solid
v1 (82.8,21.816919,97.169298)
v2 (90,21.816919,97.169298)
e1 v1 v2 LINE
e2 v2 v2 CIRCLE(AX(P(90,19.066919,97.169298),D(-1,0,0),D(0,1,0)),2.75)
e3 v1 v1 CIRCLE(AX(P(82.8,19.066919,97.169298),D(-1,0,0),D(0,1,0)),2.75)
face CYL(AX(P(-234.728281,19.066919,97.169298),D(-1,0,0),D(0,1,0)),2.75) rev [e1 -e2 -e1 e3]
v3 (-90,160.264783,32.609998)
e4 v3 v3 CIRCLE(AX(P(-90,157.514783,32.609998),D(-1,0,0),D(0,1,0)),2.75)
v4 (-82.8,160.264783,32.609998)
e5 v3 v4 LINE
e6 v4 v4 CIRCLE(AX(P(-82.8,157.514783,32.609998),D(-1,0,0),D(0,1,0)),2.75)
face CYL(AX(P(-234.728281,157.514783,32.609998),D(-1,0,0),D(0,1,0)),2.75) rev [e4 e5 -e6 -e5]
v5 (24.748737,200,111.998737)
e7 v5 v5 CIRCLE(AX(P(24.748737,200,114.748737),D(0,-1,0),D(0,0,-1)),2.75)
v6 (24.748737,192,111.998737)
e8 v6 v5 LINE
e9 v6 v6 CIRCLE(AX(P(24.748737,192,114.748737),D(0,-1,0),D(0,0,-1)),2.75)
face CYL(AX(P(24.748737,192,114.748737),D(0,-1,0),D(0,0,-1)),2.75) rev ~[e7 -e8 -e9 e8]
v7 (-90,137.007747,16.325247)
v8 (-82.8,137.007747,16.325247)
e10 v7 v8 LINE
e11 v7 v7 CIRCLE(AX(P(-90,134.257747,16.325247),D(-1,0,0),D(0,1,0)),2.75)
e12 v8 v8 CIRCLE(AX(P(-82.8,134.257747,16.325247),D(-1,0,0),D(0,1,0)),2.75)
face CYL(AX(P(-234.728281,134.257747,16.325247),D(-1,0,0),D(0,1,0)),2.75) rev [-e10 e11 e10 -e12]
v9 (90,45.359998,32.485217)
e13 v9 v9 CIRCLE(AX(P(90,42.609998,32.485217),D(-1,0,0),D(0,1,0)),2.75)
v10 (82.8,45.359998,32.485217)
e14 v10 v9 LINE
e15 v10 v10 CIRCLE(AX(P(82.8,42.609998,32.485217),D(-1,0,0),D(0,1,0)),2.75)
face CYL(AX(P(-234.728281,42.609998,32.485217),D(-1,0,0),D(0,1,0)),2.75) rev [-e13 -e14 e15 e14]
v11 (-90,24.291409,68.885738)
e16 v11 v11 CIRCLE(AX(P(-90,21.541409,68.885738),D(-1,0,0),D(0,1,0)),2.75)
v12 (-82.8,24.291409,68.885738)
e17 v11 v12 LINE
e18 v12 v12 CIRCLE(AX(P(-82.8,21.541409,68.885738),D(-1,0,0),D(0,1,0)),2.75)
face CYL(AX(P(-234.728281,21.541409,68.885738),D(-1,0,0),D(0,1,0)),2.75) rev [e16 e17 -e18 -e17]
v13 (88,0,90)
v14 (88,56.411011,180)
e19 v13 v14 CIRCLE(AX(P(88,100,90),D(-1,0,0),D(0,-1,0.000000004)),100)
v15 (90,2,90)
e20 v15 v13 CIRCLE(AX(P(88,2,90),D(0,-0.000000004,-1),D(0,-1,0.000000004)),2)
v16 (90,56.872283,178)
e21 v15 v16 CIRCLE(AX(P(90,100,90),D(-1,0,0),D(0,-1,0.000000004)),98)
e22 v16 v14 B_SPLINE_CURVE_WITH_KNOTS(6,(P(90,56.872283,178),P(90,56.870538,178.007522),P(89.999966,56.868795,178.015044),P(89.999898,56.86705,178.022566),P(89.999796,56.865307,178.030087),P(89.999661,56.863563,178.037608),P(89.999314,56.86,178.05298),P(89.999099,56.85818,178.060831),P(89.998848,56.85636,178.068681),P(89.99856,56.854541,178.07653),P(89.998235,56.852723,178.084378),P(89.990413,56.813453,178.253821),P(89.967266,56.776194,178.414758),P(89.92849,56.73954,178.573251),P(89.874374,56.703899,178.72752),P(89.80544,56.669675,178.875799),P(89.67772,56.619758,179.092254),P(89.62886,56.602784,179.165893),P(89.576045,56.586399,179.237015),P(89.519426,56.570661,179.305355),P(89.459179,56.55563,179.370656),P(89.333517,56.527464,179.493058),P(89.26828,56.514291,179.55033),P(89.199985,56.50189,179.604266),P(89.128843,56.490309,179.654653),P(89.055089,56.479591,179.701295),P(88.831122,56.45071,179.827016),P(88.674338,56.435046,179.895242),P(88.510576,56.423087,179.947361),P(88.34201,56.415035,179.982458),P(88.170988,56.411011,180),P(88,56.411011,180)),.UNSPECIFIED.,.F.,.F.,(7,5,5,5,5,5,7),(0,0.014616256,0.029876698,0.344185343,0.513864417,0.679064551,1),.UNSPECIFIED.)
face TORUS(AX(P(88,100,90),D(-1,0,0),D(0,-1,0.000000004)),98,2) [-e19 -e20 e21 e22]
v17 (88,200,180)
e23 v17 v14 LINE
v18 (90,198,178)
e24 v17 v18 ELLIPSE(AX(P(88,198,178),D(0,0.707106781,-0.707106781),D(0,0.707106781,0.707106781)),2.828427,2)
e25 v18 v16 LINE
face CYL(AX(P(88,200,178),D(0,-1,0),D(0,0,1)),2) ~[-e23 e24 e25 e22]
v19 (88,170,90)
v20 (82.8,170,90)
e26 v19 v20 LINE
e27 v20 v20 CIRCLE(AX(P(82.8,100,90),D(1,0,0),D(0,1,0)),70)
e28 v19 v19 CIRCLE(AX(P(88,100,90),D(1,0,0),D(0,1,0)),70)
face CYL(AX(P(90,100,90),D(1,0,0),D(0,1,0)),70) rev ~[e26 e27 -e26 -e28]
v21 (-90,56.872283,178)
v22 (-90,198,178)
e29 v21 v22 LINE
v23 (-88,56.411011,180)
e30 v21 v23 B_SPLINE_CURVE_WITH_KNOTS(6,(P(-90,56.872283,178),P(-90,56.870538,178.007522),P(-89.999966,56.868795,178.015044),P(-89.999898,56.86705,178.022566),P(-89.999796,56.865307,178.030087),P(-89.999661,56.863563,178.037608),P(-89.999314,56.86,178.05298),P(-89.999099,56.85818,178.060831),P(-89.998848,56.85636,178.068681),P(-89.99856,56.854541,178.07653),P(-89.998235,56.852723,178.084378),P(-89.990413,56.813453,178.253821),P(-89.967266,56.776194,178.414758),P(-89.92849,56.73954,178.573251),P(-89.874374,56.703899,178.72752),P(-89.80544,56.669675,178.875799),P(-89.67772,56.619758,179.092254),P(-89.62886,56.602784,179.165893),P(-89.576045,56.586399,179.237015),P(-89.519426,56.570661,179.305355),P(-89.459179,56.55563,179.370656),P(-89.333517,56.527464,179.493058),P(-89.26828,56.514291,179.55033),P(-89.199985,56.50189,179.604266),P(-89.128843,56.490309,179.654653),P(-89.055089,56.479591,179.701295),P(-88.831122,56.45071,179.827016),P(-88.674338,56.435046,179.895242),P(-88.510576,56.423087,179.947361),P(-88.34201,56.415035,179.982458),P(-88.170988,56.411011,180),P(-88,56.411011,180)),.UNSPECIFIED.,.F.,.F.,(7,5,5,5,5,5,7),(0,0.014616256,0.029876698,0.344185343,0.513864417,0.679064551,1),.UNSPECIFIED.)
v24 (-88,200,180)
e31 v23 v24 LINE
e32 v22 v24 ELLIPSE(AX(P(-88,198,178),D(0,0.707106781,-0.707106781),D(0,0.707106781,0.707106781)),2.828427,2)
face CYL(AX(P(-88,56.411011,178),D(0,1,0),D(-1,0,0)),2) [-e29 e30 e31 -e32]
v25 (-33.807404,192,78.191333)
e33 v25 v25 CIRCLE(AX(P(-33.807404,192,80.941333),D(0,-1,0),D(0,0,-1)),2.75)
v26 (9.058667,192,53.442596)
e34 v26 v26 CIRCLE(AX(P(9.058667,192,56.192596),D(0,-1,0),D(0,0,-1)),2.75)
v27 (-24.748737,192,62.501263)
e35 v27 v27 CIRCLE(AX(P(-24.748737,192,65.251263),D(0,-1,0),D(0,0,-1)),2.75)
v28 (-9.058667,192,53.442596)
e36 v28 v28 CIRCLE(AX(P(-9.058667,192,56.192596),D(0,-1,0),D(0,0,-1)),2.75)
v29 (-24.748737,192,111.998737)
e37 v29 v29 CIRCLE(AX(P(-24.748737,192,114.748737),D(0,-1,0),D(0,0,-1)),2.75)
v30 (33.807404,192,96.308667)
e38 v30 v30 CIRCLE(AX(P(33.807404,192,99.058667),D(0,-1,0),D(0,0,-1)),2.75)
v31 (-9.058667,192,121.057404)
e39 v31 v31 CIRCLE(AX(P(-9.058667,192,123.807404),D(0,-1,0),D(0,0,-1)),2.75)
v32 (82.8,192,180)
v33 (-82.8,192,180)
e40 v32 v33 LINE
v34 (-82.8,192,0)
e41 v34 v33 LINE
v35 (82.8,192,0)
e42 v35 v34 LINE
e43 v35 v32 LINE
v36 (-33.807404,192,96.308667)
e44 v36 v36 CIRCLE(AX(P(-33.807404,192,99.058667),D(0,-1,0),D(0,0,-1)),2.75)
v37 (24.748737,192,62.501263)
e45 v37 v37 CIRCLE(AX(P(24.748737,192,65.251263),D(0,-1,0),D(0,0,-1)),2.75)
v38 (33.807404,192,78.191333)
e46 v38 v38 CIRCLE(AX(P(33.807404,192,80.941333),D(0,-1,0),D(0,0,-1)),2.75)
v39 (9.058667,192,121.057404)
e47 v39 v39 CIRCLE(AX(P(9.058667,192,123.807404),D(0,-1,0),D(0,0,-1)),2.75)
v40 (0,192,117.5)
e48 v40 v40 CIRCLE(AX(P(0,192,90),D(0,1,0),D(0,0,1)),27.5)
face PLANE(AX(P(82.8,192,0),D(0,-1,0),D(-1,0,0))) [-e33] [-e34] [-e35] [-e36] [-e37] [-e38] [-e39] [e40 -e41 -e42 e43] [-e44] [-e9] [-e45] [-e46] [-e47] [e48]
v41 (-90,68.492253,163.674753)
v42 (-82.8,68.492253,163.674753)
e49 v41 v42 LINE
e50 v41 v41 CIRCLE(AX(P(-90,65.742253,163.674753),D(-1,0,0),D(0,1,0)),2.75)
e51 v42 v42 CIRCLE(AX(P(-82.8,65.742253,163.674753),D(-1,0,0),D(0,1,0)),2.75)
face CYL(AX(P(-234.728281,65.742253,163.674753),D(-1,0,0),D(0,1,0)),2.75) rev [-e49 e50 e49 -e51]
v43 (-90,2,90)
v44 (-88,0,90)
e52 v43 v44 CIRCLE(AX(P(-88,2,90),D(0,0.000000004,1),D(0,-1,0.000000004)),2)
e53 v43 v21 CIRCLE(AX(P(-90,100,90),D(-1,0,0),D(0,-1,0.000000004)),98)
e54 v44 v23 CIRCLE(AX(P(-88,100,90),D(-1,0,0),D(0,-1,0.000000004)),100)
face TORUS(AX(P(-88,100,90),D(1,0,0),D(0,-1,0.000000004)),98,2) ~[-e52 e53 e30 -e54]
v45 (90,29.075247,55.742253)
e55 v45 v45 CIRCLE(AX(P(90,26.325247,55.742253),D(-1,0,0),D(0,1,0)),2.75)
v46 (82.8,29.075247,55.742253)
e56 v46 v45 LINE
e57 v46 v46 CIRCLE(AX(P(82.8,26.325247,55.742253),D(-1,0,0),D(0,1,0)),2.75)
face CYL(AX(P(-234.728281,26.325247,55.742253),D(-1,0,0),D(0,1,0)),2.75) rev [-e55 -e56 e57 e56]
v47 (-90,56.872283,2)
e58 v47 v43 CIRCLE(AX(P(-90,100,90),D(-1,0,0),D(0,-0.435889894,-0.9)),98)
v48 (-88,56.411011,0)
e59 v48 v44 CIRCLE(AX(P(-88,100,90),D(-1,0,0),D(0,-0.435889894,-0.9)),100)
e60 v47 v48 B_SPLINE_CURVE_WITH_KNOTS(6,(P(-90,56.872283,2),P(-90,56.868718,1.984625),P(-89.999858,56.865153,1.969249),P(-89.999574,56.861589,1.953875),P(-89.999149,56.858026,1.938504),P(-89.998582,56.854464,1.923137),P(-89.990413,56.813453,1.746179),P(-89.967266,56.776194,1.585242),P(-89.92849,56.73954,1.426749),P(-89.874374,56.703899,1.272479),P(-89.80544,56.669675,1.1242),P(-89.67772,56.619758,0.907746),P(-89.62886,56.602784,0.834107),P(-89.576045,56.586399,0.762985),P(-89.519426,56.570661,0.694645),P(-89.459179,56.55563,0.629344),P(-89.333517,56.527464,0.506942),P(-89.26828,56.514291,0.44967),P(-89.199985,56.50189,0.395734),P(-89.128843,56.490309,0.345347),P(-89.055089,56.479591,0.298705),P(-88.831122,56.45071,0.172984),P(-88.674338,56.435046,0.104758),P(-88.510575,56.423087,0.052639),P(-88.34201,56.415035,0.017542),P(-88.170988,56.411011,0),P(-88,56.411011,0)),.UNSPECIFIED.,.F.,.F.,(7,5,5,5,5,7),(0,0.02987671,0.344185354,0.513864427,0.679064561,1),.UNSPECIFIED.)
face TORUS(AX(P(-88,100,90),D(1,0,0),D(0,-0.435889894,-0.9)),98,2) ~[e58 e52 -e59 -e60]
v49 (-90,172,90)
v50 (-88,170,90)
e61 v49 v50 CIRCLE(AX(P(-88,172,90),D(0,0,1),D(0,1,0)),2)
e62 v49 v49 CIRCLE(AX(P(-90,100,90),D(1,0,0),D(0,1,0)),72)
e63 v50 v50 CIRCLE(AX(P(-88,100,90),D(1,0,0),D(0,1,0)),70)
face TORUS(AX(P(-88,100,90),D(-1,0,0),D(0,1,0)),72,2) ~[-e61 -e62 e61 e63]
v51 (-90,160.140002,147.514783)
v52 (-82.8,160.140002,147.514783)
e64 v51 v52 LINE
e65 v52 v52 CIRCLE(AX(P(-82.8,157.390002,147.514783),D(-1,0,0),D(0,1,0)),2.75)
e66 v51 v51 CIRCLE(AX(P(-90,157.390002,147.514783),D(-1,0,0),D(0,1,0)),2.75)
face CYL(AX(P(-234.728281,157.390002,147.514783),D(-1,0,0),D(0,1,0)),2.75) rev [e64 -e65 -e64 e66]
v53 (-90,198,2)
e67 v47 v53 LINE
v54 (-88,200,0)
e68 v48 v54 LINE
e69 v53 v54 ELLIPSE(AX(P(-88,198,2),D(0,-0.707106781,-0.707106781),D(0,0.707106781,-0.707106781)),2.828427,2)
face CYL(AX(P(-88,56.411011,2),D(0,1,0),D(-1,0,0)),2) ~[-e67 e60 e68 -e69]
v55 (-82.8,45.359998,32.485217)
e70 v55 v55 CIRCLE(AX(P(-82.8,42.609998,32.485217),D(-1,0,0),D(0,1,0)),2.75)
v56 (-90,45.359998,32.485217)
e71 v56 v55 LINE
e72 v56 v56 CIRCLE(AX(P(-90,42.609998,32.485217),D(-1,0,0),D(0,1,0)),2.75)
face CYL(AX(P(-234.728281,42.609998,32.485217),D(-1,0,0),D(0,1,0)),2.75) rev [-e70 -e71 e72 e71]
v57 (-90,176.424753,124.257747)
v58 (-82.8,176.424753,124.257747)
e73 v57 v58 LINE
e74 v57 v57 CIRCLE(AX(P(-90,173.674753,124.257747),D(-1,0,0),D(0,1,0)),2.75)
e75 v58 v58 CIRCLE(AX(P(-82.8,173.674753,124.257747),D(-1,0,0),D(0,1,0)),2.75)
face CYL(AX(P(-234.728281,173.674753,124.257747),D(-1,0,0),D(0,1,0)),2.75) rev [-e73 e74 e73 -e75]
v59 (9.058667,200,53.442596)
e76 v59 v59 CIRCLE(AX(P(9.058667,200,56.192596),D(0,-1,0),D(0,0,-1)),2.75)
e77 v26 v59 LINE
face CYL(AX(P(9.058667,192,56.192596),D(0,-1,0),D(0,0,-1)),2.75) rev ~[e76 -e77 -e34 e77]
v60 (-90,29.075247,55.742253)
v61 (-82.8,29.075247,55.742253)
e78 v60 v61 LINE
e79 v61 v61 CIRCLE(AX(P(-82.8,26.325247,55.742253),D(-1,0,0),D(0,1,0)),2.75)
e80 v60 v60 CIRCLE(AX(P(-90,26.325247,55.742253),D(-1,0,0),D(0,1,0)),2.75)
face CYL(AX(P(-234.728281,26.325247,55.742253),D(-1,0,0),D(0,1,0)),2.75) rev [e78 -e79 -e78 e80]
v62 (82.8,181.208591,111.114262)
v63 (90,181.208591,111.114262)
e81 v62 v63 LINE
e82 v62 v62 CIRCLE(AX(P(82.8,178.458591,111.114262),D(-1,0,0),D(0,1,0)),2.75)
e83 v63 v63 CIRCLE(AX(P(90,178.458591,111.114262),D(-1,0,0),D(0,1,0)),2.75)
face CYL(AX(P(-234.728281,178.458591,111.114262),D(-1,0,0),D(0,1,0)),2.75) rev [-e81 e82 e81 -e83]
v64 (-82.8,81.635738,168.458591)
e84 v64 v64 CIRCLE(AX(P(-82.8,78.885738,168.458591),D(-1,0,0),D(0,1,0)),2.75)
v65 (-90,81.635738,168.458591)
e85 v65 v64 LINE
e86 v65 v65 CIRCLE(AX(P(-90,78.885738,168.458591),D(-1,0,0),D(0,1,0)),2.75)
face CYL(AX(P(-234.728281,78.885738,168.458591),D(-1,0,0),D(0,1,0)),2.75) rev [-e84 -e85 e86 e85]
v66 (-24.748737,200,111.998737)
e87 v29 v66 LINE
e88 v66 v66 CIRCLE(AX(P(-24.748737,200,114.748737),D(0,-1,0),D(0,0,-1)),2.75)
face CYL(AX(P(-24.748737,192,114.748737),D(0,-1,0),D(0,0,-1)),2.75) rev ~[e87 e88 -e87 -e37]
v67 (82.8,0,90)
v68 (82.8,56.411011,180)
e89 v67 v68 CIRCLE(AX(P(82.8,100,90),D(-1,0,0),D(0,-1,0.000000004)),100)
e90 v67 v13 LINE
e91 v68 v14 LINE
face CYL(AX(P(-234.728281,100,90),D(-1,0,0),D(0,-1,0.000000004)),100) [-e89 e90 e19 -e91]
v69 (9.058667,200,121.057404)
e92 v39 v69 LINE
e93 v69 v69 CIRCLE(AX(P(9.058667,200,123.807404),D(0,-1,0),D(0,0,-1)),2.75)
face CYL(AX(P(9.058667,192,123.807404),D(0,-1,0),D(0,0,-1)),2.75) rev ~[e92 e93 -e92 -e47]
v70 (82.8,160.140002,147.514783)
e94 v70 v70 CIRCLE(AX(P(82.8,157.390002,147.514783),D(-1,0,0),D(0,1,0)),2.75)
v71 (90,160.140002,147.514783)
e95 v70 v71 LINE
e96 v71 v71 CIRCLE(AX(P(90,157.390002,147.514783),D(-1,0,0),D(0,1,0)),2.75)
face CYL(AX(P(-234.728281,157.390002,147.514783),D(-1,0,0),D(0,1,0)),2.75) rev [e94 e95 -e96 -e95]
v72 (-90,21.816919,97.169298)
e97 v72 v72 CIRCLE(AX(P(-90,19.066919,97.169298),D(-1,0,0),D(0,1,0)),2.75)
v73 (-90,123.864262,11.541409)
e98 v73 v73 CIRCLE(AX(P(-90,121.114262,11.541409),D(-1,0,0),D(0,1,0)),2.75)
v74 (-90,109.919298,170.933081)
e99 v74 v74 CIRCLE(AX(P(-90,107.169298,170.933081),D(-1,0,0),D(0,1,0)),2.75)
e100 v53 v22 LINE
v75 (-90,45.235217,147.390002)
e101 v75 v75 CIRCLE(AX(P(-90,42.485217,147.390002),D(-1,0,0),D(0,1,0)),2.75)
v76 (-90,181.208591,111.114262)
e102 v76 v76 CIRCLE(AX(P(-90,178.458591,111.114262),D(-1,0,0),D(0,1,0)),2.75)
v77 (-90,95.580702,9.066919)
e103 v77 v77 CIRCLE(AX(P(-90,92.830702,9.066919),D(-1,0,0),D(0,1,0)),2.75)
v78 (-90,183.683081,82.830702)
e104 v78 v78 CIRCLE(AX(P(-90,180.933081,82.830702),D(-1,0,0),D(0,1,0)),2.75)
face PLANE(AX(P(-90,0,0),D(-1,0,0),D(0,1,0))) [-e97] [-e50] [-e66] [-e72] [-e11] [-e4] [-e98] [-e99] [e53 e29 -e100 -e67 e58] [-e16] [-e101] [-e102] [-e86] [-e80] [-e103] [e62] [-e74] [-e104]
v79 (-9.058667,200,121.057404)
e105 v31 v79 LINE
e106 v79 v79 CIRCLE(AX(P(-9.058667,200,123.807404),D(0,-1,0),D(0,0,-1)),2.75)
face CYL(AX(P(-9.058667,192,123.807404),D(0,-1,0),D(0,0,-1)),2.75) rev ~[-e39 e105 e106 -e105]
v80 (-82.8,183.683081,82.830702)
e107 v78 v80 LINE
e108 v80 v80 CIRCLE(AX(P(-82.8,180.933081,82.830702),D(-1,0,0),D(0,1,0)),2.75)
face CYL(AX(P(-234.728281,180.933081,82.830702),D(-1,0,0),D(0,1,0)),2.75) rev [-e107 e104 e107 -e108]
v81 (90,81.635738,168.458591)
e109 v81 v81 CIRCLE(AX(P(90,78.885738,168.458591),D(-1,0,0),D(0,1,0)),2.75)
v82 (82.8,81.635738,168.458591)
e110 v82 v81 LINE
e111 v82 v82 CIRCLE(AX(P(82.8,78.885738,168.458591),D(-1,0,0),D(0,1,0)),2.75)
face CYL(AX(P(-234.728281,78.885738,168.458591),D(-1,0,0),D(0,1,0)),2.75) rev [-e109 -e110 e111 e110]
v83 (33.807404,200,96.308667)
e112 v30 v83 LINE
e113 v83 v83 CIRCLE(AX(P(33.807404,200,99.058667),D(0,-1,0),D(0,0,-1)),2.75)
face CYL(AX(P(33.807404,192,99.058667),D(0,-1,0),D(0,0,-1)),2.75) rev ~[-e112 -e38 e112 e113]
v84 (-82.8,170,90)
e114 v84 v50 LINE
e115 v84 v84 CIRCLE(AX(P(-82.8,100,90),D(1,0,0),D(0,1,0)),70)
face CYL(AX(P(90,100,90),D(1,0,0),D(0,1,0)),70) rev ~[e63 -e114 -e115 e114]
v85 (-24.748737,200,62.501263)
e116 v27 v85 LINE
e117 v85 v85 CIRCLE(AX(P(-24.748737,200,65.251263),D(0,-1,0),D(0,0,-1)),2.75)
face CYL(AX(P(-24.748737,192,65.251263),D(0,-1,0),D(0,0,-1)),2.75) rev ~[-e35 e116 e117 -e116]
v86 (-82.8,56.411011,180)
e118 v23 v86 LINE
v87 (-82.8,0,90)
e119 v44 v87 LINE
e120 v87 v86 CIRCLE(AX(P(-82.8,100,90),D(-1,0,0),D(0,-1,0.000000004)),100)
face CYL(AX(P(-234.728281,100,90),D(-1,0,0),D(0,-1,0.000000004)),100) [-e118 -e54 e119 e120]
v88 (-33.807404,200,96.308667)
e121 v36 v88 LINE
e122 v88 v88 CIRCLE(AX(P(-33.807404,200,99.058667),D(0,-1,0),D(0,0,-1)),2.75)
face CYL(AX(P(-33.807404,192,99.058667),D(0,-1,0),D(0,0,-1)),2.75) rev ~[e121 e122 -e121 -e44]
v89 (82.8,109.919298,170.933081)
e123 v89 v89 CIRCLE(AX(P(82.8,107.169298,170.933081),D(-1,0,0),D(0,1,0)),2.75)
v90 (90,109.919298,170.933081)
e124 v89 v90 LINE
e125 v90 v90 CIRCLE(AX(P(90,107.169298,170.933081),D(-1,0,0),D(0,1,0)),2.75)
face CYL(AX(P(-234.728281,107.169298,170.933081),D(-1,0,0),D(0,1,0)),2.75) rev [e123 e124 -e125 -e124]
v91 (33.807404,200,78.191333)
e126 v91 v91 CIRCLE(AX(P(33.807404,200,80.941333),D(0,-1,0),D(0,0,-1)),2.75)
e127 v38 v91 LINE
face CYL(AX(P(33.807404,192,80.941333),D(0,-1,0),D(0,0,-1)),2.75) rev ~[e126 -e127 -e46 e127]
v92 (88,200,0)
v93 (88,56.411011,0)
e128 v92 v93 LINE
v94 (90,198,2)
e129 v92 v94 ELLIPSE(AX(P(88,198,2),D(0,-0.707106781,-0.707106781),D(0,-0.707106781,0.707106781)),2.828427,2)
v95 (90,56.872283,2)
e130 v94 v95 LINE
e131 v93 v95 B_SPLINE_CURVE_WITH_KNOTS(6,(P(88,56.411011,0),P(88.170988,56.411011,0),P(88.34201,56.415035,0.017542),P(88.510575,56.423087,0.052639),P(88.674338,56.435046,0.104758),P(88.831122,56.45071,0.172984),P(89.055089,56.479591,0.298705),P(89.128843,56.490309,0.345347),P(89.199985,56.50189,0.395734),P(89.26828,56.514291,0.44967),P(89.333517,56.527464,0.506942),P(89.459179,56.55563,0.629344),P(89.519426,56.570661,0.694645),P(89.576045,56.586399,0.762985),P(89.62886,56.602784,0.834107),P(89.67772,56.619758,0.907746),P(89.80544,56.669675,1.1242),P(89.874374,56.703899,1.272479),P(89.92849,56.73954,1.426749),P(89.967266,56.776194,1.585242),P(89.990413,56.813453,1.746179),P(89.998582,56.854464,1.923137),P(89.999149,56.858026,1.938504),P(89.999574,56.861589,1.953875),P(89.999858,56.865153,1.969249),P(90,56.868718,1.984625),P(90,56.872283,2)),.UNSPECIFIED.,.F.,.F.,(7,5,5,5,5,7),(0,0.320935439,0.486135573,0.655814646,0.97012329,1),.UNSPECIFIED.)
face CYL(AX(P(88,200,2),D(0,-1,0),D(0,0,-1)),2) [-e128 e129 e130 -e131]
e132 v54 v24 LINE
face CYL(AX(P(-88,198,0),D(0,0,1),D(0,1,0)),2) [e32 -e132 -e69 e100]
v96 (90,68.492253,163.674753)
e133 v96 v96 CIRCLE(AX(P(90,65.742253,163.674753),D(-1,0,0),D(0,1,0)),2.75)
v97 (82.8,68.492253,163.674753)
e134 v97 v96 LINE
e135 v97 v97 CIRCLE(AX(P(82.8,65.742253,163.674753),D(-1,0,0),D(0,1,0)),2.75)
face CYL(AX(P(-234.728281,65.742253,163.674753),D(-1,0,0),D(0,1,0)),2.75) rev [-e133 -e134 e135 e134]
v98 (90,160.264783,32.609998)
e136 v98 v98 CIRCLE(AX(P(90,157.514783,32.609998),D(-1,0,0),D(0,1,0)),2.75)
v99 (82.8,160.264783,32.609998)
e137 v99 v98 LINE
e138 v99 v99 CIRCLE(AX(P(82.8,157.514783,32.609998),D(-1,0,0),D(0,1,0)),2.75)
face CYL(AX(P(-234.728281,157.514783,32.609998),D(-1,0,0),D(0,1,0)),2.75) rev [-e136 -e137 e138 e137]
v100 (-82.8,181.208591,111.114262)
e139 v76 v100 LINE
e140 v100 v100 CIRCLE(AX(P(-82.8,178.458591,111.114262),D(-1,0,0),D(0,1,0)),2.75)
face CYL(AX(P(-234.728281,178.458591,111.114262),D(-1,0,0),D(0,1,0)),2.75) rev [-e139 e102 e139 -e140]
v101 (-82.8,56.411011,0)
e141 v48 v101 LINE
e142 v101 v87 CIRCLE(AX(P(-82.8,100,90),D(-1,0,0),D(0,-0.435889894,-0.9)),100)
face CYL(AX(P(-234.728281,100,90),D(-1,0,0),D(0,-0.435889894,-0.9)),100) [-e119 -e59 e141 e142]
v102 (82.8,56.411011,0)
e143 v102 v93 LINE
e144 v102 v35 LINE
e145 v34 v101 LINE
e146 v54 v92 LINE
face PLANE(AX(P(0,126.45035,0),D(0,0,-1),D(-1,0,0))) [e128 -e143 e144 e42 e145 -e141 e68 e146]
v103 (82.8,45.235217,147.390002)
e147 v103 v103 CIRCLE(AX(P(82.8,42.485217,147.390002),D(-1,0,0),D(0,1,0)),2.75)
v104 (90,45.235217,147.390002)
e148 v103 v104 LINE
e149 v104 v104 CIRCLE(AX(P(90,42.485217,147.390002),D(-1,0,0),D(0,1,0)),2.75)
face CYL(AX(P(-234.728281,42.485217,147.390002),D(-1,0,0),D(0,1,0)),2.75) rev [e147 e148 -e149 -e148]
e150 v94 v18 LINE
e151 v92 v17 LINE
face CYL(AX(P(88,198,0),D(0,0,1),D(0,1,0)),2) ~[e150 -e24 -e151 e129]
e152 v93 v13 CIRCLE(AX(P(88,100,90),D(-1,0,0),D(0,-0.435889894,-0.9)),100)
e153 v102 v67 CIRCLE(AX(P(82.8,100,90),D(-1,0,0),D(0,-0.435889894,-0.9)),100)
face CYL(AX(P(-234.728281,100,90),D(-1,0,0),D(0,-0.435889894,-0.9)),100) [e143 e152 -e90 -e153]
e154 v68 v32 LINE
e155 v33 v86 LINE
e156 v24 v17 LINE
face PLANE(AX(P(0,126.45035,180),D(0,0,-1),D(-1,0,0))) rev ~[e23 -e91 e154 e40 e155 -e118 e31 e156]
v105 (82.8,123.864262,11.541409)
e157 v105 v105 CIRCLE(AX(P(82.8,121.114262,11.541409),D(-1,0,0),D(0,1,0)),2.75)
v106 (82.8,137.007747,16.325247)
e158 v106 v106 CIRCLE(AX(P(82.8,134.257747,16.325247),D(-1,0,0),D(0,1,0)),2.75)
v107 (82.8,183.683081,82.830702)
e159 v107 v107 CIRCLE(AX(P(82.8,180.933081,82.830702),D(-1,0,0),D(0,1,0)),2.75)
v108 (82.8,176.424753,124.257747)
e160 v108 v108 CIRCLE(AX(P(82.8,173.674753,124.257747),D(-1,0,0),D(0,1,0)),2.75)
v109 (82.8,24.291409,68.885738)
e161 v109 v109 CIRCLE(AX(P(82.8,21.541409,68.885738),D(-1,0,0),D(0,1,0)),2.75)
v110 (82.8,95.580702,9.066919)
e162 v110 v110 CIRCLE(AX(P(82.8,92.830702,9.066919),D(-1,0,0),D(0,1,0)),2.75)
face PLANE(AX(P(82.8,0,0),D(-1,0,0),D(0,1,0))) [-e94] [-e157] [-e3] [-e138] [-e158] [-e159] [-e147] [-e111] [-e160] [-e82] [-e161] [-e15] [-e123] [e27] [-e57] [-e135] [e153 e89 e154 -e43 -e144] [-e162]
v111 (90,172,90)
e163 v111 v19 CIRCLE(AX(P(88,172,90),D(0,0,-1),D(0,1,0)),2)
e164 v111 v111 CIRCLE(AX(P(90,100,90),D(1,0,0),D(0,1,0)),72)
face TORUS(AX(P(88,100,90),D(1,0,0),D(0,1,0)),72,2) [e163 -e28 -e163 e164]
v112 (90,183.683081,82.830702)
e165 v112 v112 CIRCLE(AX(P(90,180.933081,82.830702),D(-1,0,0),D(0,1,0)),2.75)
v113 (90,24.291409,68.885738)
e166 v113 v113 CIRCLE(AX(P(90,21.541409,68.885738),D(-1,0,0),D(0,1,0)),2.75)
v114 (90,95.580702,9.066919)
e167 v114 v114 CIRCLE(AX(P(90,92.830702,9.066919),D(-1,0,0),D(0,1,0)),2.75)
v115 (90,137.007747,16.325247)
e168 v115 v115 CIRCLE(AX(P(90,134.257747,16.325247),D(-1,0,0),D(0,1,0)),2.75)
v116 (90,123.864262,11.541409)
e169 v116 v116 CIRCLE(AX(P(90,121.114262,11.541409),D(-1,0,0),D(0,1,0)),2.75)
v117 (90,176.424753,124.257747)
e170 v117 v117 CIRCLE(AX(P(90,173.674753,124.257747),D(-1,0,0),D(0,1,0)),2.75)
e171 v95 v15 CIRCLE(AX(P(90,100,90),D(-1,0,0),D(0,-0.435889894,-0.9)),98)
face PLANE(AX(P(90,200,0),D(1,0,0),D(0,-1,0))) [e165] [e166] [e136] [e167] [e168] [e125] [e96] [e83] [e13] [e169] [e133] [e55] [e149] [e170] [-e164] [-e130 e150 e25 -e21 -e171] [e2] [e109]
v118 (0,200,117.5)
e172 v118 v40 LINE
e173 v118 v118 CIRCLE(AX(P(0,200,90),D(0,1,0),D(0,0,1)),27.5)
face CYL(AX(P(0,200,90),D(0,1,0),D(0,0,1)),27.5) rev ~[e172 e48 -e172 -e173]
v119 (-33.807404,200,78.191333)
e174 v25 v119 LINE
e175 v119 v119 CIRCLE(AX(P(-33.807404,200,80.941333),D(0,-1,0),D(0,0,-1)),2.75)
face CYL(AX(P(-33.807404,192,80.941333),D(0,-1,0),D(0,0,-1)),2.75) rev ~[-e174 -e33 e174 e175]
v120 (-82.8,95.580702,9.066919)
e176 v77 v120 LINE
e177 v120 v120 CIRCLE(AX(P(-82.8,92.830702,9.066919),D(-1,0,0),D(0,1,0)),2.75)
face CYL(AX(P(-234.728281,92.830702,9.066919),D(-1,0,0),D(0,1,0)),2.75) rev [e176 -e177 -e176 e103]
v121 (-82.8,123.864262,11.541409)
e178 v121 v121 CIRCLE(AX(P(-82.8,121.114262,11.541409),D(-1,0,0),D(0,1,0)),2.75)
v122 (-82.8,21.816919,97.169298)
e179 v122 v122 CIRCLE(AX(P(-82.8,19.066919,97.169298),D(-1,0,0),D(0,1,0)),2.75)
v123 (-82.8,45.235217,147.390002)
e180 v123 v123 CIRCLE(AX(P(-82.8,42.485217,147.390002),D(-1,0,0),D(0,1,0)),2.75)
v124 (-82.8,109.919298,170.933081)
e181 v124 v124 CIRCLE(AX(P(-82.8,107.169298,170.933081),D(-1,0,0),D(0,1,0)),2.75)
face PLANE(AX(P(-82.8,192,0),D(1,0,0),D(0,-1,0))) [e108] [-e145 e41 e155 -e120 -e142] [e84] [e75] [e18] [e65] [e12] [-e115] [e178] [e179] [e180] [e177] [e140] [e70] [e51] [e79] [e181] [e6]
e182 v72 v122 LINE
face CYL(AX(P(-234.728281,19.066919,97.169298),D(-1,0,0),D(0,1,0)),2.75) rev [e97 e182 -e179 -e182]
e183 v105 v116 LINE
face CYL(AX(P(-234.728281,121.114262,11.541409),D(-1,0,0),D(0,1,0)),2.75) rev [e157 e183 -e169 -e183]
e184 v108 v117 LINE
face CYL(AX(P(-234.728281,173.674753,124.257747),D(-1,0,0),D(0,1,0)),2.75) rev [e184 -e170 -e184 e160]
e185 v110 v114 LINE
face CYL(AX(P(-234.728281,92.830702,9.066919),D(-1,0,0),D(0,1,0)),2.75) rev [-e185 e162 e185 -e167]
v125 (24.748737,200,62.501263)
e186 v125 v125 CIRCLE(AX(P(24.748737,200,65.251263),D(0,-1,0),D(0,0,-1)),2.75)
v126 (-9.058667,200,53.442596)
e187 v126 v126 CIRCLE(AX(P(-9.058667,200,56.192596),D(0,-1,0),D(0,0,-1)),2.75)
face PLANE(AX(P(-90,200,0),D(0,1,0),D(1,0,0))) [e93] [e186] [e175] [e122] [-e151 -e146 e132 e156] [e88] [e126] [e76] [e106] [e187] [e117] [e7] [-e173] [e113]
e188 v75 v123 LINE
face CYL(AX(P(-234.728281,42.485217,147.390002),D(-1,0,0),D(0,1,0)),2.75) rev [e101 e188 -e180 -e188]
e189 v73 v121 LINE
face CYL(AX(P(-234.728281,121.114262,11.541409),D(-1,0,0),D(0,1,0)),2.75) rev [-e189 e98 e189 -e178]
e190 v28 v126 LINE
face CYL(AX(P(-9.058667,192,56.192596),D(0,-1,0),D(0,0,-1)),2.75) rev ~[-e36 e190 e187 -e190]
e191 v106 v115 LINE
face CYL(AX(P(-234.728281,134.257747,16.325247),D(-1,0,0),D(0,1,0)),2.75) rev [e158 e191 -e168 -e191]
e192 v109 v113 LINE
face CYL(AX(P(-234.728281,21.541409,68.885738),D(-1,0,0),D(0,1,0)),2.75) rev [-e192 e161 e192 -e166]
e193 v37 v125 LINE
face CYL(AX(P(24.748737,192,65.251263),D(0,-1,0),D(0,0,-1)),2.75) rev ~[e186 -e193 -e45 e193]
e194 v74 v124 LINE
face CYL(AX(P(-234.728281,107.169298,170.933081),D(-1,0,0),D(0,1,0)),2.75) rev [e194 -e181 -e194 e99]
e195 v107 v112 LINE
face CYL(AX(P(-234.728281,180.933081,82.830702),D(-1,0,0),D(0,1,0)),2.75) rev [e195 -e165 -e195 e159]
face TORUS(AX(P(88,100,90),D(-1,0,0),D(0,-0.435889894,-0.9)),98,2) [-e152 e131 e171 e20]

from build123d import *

# Parameters (mm, degrees)
EXTRUDE_1_DEPTH          = 180
SKETCH_2_R               = 27.5
CUT_EXTRUDE_1_DEPTH      = 180
SKETCH_3_R               = 70
CUT_EXTRUDE_2_DEPTH      = 217
CUT_EXTRUDE_5_DEPTH      = 324.728281125
CUT_EXTRUDE_5_DEPTH_BACK = 324.728281125
FILLET_2_R               = 2
CUT_EXTRUDE_6_DEPTH      = 324.728281298
CUT_EXTRUDE_6_DEPTH_BACK = 324.728281298
SKETCH_10_R              = 2.75
SKETCH_11_R              = 2.75
CUT_EXTRUDE_7_DEPTH      = 29


with BuildPart() as part:
    # 草图1 → 凸台-拉伸1 (new body)
    with BuildSketch(Plane.XY):
        Polygon((-90, 200), (90, 200), (90, 0), (82.8, 0), (82.8, 192), (-82.8, 192), (-82.8, 0), (-90, 0), align=None)
    extrude(amount=EXTRUDE_1_DEPTH)

    # 草图2 → 切除-拉伸1 (cut)
    with BuildSketch(Plane(origin=(0, 200, 0), x_dir=(1, 0, 0), z_dir=(0, 1, 0))):
        with Locations(Location((0, -90, 0), (0, 0, 270))):
            Circle(SKETCH_2_R)
    extrude(amount=-CUT_EXTRUDE_1_DEPTH, mode=Mode.SUBTRACT)

    # 草图3 → 切除-拉伸2 (cut)
    with BuildSketch(Plane(origin=(90, 0, 0), x_dir=(0, 0, -1), z_dir=(1, 0, 0))):
        with Locations(Location((-90, 100, 0), (0, 0, 90))):
            Circle(SKETCH_3_R)
    extrude(amount=-CUT_EXTRUDE_2_DEPTH, mode=Mode.SUBTRACT)

    # 草图9 → 切除-拉伸5 (cut, two sides: drawn at the far end of the back side and taken through both)
    with BuildSketch(Plane(origin=(90, 0, 0), x_dir=(0, 0, -1), z_dir=(1, 0, 0)).offset(-CUT_EXTRUDE_5_DEPTH_BACK)):
        with BuildLine():
            Line((0, 0), (0, 56.411010565))
            ThreePointArc((0, 56.411010565), (-36.891144692, 15.268367844), (-90.000000357, 0))
            Line((-90.000000357, 0), (0, 0))
        make_face()
        with BuildLine():
            Line((-180, 0), (-90.000000357, 0))
            ThreePointArc((-90.000000357, 0), (-143.108855611, 15.268368034), (-180, 56.411010565))
            Line((-180, 56.411010565), (-180, 0))
        make_face()
    extrude(amount=CUT_EXTRUDE_5_DEPTH + CUT_EXTRUDE_5_DEPTH_BACK, mode=Mode.SUBTRACT)

    # 圆角2
    fillet_2_edges = [part.edges().sort_by_distance(p)[0] for p in [
        (-90, 128.205505282, 0),
        (-90, 128.205505282, 180),
        (-90, 200, 90),
        (90, 200, 90),
        (-90, 30, 90),
        (90, 30, 90),
        (90, 128.205505282, 0),
        (90, 0, 90),
        (-90, 0, 90),
        (90, 128.205505282, 180),
    ]]
    fillet(fillet_2_edges, radius=FILLET_2_R)

    # 草图10 → 切除-拉伸6 (cut, two sides: drawn at the far end of the back side and taken through both)
    with BuildSketch(Plane(origin=(90, 0, 0), x_dir=(0, 0, -1), z_dir=(1, 0, 0)).offset(-CUT_EXTRUDE_6_DEPTH_BACK)):
        with Locations(Location((-32.609998318, 157.514782508, 0), (0, 0, 90))):
            Circle(SKETCH_10_R)
        with Locations(Location((-16.325246691, 134.257746931, 0), (0, 0, 90))):
            Circle(SKETCH_10_R)
        with Locations(Location((-11.541409366, 121.114261903, 0), (0, 0, 90))):
            Circle(SKETCH_10_R)
        with Locations(Location((-9.066918551, 92.830702464, 0), (0, 0, 90))):
            Circle(SKETCH_10_R)
        with Locations(Location((-32.485217492, 42.609998318, 0), (0, 0, 90))):
            Circle(SKETCH_10_R)
        with Locations(Location((-55.742253069, 26.325246691, 0), (0, 0, 90))):
            Circle(SKETCH_10_R)
        with Locations(Location((-68.885738097, 21.541409366, 0), (0, 0, 90))):
            Circle(SKETCH_10_R)
        with Locations(Location((-97.169297536, 19.066918551, 0), (0, 0, 90))):
            Circle(SKETCH_10_R)
        with Locations(Location((-147.390001682, 42.485217492, 0), (0, 0, 90))):
            Circle(SKETCH_10_R)
        with Locations(Location((-163.674753309, 65.742253069, 0), (0, 0, 90))):
            Circle(SKETCH_10_R)
        with Locations(Location((-168.458590634, 78.885738097, 0), (0, 0, 90))):
            Circle(SKETCH_10_R)
        with Locations(Location((-170.933081449, 107.169297536, 0), (0, 0, 90))):
            Circle(SKETCH_10_R)
        with Locations(Location((-147.514782508, 157.390001682, 0), (0, 0, 90))):
            Circle(SKETCH_10_R)
        with Locations(Location((-124.257746931, 173.674753309, 0), (0, 0, 90))):
            Circle(SKETCH_10_R)
        with Locations(Location((-111.114261903, 178.458590634, 0), (0, 0, 90))):
            Circle(SKETCH_10_R)
        with Locations(Location((-82.830702464, 180.933081449, 0), (0, 0, 90))):
            Circle(SKETCH_10_R)
    extrude(amount=CUT_EXTRUDE_6_DEPTH + CUT_EXTRUDE_6_DEPTH_BACK, mode=Mode.SUBTRACT)

    # 草图11 → 切除-拉伸7 (cut)
    with BuildSketch(Plane.XZ.offset(-192)):
        with Locations(Location((9.058666579, 123.80740392, 0), (0, 0, 270))):
            Circle(SKETCH_11_R)
        with Locations(Location((24.748737342, 114.748737342, 0), (0, 0, 270))):
            Circle(SKETCH_11_R)
        with Locations(Location((33.80740392, 99.058666579, 0), (0, 0, 270))):
            Circle(SKETCH_11_R)
        with Locations(Location((33.80740392, 80.941333421, 0), (0, 0, 270))):
            Circle(SKETCH_11_R)
        with Locations(Location((24.748737342, 65.251262658, 0), (0, 0, 270))):
            Circle(SKETCH_11_R)
        with Locations(Location((9.058666579, 56.19259608, 0), (0, 0, 270))):
            Circle(SKETCH_11_R)
        with Locations(Location((-9.058666579, 56.19259608, 0), (0, 0, 270))):
            Circle(SKETCH_11_R)
        with Locations(Location((-24.748737342, 65.251262658, 0), (0, 0, 270))):
            Circle(SKETCH_11_R)
        with Locations(Location((-33.80740392, 80.941333421, 0), (0, 0, 270))):
            Circle(SKETCH_11_R)
        with Locations(Location((-33.80740392, 99.058666579, 0), (0, 0, 270))):
            Circle(SKETCH_11_R)
        with Locations(Location((-24.748737342, 114.748737342, 0), (0, 0, 270))):
            Circle(SKETCH_11_R)
        with Locations(Location((-9.058666579, 123.80740392, 0), (0, 0, 270))):
            Circle(SKETCH_11_R)
    extrude(amount=-CUT_EXTRUDE_7_DEPTH, mode=Mode.SUBTRACT)


solid = part.part
